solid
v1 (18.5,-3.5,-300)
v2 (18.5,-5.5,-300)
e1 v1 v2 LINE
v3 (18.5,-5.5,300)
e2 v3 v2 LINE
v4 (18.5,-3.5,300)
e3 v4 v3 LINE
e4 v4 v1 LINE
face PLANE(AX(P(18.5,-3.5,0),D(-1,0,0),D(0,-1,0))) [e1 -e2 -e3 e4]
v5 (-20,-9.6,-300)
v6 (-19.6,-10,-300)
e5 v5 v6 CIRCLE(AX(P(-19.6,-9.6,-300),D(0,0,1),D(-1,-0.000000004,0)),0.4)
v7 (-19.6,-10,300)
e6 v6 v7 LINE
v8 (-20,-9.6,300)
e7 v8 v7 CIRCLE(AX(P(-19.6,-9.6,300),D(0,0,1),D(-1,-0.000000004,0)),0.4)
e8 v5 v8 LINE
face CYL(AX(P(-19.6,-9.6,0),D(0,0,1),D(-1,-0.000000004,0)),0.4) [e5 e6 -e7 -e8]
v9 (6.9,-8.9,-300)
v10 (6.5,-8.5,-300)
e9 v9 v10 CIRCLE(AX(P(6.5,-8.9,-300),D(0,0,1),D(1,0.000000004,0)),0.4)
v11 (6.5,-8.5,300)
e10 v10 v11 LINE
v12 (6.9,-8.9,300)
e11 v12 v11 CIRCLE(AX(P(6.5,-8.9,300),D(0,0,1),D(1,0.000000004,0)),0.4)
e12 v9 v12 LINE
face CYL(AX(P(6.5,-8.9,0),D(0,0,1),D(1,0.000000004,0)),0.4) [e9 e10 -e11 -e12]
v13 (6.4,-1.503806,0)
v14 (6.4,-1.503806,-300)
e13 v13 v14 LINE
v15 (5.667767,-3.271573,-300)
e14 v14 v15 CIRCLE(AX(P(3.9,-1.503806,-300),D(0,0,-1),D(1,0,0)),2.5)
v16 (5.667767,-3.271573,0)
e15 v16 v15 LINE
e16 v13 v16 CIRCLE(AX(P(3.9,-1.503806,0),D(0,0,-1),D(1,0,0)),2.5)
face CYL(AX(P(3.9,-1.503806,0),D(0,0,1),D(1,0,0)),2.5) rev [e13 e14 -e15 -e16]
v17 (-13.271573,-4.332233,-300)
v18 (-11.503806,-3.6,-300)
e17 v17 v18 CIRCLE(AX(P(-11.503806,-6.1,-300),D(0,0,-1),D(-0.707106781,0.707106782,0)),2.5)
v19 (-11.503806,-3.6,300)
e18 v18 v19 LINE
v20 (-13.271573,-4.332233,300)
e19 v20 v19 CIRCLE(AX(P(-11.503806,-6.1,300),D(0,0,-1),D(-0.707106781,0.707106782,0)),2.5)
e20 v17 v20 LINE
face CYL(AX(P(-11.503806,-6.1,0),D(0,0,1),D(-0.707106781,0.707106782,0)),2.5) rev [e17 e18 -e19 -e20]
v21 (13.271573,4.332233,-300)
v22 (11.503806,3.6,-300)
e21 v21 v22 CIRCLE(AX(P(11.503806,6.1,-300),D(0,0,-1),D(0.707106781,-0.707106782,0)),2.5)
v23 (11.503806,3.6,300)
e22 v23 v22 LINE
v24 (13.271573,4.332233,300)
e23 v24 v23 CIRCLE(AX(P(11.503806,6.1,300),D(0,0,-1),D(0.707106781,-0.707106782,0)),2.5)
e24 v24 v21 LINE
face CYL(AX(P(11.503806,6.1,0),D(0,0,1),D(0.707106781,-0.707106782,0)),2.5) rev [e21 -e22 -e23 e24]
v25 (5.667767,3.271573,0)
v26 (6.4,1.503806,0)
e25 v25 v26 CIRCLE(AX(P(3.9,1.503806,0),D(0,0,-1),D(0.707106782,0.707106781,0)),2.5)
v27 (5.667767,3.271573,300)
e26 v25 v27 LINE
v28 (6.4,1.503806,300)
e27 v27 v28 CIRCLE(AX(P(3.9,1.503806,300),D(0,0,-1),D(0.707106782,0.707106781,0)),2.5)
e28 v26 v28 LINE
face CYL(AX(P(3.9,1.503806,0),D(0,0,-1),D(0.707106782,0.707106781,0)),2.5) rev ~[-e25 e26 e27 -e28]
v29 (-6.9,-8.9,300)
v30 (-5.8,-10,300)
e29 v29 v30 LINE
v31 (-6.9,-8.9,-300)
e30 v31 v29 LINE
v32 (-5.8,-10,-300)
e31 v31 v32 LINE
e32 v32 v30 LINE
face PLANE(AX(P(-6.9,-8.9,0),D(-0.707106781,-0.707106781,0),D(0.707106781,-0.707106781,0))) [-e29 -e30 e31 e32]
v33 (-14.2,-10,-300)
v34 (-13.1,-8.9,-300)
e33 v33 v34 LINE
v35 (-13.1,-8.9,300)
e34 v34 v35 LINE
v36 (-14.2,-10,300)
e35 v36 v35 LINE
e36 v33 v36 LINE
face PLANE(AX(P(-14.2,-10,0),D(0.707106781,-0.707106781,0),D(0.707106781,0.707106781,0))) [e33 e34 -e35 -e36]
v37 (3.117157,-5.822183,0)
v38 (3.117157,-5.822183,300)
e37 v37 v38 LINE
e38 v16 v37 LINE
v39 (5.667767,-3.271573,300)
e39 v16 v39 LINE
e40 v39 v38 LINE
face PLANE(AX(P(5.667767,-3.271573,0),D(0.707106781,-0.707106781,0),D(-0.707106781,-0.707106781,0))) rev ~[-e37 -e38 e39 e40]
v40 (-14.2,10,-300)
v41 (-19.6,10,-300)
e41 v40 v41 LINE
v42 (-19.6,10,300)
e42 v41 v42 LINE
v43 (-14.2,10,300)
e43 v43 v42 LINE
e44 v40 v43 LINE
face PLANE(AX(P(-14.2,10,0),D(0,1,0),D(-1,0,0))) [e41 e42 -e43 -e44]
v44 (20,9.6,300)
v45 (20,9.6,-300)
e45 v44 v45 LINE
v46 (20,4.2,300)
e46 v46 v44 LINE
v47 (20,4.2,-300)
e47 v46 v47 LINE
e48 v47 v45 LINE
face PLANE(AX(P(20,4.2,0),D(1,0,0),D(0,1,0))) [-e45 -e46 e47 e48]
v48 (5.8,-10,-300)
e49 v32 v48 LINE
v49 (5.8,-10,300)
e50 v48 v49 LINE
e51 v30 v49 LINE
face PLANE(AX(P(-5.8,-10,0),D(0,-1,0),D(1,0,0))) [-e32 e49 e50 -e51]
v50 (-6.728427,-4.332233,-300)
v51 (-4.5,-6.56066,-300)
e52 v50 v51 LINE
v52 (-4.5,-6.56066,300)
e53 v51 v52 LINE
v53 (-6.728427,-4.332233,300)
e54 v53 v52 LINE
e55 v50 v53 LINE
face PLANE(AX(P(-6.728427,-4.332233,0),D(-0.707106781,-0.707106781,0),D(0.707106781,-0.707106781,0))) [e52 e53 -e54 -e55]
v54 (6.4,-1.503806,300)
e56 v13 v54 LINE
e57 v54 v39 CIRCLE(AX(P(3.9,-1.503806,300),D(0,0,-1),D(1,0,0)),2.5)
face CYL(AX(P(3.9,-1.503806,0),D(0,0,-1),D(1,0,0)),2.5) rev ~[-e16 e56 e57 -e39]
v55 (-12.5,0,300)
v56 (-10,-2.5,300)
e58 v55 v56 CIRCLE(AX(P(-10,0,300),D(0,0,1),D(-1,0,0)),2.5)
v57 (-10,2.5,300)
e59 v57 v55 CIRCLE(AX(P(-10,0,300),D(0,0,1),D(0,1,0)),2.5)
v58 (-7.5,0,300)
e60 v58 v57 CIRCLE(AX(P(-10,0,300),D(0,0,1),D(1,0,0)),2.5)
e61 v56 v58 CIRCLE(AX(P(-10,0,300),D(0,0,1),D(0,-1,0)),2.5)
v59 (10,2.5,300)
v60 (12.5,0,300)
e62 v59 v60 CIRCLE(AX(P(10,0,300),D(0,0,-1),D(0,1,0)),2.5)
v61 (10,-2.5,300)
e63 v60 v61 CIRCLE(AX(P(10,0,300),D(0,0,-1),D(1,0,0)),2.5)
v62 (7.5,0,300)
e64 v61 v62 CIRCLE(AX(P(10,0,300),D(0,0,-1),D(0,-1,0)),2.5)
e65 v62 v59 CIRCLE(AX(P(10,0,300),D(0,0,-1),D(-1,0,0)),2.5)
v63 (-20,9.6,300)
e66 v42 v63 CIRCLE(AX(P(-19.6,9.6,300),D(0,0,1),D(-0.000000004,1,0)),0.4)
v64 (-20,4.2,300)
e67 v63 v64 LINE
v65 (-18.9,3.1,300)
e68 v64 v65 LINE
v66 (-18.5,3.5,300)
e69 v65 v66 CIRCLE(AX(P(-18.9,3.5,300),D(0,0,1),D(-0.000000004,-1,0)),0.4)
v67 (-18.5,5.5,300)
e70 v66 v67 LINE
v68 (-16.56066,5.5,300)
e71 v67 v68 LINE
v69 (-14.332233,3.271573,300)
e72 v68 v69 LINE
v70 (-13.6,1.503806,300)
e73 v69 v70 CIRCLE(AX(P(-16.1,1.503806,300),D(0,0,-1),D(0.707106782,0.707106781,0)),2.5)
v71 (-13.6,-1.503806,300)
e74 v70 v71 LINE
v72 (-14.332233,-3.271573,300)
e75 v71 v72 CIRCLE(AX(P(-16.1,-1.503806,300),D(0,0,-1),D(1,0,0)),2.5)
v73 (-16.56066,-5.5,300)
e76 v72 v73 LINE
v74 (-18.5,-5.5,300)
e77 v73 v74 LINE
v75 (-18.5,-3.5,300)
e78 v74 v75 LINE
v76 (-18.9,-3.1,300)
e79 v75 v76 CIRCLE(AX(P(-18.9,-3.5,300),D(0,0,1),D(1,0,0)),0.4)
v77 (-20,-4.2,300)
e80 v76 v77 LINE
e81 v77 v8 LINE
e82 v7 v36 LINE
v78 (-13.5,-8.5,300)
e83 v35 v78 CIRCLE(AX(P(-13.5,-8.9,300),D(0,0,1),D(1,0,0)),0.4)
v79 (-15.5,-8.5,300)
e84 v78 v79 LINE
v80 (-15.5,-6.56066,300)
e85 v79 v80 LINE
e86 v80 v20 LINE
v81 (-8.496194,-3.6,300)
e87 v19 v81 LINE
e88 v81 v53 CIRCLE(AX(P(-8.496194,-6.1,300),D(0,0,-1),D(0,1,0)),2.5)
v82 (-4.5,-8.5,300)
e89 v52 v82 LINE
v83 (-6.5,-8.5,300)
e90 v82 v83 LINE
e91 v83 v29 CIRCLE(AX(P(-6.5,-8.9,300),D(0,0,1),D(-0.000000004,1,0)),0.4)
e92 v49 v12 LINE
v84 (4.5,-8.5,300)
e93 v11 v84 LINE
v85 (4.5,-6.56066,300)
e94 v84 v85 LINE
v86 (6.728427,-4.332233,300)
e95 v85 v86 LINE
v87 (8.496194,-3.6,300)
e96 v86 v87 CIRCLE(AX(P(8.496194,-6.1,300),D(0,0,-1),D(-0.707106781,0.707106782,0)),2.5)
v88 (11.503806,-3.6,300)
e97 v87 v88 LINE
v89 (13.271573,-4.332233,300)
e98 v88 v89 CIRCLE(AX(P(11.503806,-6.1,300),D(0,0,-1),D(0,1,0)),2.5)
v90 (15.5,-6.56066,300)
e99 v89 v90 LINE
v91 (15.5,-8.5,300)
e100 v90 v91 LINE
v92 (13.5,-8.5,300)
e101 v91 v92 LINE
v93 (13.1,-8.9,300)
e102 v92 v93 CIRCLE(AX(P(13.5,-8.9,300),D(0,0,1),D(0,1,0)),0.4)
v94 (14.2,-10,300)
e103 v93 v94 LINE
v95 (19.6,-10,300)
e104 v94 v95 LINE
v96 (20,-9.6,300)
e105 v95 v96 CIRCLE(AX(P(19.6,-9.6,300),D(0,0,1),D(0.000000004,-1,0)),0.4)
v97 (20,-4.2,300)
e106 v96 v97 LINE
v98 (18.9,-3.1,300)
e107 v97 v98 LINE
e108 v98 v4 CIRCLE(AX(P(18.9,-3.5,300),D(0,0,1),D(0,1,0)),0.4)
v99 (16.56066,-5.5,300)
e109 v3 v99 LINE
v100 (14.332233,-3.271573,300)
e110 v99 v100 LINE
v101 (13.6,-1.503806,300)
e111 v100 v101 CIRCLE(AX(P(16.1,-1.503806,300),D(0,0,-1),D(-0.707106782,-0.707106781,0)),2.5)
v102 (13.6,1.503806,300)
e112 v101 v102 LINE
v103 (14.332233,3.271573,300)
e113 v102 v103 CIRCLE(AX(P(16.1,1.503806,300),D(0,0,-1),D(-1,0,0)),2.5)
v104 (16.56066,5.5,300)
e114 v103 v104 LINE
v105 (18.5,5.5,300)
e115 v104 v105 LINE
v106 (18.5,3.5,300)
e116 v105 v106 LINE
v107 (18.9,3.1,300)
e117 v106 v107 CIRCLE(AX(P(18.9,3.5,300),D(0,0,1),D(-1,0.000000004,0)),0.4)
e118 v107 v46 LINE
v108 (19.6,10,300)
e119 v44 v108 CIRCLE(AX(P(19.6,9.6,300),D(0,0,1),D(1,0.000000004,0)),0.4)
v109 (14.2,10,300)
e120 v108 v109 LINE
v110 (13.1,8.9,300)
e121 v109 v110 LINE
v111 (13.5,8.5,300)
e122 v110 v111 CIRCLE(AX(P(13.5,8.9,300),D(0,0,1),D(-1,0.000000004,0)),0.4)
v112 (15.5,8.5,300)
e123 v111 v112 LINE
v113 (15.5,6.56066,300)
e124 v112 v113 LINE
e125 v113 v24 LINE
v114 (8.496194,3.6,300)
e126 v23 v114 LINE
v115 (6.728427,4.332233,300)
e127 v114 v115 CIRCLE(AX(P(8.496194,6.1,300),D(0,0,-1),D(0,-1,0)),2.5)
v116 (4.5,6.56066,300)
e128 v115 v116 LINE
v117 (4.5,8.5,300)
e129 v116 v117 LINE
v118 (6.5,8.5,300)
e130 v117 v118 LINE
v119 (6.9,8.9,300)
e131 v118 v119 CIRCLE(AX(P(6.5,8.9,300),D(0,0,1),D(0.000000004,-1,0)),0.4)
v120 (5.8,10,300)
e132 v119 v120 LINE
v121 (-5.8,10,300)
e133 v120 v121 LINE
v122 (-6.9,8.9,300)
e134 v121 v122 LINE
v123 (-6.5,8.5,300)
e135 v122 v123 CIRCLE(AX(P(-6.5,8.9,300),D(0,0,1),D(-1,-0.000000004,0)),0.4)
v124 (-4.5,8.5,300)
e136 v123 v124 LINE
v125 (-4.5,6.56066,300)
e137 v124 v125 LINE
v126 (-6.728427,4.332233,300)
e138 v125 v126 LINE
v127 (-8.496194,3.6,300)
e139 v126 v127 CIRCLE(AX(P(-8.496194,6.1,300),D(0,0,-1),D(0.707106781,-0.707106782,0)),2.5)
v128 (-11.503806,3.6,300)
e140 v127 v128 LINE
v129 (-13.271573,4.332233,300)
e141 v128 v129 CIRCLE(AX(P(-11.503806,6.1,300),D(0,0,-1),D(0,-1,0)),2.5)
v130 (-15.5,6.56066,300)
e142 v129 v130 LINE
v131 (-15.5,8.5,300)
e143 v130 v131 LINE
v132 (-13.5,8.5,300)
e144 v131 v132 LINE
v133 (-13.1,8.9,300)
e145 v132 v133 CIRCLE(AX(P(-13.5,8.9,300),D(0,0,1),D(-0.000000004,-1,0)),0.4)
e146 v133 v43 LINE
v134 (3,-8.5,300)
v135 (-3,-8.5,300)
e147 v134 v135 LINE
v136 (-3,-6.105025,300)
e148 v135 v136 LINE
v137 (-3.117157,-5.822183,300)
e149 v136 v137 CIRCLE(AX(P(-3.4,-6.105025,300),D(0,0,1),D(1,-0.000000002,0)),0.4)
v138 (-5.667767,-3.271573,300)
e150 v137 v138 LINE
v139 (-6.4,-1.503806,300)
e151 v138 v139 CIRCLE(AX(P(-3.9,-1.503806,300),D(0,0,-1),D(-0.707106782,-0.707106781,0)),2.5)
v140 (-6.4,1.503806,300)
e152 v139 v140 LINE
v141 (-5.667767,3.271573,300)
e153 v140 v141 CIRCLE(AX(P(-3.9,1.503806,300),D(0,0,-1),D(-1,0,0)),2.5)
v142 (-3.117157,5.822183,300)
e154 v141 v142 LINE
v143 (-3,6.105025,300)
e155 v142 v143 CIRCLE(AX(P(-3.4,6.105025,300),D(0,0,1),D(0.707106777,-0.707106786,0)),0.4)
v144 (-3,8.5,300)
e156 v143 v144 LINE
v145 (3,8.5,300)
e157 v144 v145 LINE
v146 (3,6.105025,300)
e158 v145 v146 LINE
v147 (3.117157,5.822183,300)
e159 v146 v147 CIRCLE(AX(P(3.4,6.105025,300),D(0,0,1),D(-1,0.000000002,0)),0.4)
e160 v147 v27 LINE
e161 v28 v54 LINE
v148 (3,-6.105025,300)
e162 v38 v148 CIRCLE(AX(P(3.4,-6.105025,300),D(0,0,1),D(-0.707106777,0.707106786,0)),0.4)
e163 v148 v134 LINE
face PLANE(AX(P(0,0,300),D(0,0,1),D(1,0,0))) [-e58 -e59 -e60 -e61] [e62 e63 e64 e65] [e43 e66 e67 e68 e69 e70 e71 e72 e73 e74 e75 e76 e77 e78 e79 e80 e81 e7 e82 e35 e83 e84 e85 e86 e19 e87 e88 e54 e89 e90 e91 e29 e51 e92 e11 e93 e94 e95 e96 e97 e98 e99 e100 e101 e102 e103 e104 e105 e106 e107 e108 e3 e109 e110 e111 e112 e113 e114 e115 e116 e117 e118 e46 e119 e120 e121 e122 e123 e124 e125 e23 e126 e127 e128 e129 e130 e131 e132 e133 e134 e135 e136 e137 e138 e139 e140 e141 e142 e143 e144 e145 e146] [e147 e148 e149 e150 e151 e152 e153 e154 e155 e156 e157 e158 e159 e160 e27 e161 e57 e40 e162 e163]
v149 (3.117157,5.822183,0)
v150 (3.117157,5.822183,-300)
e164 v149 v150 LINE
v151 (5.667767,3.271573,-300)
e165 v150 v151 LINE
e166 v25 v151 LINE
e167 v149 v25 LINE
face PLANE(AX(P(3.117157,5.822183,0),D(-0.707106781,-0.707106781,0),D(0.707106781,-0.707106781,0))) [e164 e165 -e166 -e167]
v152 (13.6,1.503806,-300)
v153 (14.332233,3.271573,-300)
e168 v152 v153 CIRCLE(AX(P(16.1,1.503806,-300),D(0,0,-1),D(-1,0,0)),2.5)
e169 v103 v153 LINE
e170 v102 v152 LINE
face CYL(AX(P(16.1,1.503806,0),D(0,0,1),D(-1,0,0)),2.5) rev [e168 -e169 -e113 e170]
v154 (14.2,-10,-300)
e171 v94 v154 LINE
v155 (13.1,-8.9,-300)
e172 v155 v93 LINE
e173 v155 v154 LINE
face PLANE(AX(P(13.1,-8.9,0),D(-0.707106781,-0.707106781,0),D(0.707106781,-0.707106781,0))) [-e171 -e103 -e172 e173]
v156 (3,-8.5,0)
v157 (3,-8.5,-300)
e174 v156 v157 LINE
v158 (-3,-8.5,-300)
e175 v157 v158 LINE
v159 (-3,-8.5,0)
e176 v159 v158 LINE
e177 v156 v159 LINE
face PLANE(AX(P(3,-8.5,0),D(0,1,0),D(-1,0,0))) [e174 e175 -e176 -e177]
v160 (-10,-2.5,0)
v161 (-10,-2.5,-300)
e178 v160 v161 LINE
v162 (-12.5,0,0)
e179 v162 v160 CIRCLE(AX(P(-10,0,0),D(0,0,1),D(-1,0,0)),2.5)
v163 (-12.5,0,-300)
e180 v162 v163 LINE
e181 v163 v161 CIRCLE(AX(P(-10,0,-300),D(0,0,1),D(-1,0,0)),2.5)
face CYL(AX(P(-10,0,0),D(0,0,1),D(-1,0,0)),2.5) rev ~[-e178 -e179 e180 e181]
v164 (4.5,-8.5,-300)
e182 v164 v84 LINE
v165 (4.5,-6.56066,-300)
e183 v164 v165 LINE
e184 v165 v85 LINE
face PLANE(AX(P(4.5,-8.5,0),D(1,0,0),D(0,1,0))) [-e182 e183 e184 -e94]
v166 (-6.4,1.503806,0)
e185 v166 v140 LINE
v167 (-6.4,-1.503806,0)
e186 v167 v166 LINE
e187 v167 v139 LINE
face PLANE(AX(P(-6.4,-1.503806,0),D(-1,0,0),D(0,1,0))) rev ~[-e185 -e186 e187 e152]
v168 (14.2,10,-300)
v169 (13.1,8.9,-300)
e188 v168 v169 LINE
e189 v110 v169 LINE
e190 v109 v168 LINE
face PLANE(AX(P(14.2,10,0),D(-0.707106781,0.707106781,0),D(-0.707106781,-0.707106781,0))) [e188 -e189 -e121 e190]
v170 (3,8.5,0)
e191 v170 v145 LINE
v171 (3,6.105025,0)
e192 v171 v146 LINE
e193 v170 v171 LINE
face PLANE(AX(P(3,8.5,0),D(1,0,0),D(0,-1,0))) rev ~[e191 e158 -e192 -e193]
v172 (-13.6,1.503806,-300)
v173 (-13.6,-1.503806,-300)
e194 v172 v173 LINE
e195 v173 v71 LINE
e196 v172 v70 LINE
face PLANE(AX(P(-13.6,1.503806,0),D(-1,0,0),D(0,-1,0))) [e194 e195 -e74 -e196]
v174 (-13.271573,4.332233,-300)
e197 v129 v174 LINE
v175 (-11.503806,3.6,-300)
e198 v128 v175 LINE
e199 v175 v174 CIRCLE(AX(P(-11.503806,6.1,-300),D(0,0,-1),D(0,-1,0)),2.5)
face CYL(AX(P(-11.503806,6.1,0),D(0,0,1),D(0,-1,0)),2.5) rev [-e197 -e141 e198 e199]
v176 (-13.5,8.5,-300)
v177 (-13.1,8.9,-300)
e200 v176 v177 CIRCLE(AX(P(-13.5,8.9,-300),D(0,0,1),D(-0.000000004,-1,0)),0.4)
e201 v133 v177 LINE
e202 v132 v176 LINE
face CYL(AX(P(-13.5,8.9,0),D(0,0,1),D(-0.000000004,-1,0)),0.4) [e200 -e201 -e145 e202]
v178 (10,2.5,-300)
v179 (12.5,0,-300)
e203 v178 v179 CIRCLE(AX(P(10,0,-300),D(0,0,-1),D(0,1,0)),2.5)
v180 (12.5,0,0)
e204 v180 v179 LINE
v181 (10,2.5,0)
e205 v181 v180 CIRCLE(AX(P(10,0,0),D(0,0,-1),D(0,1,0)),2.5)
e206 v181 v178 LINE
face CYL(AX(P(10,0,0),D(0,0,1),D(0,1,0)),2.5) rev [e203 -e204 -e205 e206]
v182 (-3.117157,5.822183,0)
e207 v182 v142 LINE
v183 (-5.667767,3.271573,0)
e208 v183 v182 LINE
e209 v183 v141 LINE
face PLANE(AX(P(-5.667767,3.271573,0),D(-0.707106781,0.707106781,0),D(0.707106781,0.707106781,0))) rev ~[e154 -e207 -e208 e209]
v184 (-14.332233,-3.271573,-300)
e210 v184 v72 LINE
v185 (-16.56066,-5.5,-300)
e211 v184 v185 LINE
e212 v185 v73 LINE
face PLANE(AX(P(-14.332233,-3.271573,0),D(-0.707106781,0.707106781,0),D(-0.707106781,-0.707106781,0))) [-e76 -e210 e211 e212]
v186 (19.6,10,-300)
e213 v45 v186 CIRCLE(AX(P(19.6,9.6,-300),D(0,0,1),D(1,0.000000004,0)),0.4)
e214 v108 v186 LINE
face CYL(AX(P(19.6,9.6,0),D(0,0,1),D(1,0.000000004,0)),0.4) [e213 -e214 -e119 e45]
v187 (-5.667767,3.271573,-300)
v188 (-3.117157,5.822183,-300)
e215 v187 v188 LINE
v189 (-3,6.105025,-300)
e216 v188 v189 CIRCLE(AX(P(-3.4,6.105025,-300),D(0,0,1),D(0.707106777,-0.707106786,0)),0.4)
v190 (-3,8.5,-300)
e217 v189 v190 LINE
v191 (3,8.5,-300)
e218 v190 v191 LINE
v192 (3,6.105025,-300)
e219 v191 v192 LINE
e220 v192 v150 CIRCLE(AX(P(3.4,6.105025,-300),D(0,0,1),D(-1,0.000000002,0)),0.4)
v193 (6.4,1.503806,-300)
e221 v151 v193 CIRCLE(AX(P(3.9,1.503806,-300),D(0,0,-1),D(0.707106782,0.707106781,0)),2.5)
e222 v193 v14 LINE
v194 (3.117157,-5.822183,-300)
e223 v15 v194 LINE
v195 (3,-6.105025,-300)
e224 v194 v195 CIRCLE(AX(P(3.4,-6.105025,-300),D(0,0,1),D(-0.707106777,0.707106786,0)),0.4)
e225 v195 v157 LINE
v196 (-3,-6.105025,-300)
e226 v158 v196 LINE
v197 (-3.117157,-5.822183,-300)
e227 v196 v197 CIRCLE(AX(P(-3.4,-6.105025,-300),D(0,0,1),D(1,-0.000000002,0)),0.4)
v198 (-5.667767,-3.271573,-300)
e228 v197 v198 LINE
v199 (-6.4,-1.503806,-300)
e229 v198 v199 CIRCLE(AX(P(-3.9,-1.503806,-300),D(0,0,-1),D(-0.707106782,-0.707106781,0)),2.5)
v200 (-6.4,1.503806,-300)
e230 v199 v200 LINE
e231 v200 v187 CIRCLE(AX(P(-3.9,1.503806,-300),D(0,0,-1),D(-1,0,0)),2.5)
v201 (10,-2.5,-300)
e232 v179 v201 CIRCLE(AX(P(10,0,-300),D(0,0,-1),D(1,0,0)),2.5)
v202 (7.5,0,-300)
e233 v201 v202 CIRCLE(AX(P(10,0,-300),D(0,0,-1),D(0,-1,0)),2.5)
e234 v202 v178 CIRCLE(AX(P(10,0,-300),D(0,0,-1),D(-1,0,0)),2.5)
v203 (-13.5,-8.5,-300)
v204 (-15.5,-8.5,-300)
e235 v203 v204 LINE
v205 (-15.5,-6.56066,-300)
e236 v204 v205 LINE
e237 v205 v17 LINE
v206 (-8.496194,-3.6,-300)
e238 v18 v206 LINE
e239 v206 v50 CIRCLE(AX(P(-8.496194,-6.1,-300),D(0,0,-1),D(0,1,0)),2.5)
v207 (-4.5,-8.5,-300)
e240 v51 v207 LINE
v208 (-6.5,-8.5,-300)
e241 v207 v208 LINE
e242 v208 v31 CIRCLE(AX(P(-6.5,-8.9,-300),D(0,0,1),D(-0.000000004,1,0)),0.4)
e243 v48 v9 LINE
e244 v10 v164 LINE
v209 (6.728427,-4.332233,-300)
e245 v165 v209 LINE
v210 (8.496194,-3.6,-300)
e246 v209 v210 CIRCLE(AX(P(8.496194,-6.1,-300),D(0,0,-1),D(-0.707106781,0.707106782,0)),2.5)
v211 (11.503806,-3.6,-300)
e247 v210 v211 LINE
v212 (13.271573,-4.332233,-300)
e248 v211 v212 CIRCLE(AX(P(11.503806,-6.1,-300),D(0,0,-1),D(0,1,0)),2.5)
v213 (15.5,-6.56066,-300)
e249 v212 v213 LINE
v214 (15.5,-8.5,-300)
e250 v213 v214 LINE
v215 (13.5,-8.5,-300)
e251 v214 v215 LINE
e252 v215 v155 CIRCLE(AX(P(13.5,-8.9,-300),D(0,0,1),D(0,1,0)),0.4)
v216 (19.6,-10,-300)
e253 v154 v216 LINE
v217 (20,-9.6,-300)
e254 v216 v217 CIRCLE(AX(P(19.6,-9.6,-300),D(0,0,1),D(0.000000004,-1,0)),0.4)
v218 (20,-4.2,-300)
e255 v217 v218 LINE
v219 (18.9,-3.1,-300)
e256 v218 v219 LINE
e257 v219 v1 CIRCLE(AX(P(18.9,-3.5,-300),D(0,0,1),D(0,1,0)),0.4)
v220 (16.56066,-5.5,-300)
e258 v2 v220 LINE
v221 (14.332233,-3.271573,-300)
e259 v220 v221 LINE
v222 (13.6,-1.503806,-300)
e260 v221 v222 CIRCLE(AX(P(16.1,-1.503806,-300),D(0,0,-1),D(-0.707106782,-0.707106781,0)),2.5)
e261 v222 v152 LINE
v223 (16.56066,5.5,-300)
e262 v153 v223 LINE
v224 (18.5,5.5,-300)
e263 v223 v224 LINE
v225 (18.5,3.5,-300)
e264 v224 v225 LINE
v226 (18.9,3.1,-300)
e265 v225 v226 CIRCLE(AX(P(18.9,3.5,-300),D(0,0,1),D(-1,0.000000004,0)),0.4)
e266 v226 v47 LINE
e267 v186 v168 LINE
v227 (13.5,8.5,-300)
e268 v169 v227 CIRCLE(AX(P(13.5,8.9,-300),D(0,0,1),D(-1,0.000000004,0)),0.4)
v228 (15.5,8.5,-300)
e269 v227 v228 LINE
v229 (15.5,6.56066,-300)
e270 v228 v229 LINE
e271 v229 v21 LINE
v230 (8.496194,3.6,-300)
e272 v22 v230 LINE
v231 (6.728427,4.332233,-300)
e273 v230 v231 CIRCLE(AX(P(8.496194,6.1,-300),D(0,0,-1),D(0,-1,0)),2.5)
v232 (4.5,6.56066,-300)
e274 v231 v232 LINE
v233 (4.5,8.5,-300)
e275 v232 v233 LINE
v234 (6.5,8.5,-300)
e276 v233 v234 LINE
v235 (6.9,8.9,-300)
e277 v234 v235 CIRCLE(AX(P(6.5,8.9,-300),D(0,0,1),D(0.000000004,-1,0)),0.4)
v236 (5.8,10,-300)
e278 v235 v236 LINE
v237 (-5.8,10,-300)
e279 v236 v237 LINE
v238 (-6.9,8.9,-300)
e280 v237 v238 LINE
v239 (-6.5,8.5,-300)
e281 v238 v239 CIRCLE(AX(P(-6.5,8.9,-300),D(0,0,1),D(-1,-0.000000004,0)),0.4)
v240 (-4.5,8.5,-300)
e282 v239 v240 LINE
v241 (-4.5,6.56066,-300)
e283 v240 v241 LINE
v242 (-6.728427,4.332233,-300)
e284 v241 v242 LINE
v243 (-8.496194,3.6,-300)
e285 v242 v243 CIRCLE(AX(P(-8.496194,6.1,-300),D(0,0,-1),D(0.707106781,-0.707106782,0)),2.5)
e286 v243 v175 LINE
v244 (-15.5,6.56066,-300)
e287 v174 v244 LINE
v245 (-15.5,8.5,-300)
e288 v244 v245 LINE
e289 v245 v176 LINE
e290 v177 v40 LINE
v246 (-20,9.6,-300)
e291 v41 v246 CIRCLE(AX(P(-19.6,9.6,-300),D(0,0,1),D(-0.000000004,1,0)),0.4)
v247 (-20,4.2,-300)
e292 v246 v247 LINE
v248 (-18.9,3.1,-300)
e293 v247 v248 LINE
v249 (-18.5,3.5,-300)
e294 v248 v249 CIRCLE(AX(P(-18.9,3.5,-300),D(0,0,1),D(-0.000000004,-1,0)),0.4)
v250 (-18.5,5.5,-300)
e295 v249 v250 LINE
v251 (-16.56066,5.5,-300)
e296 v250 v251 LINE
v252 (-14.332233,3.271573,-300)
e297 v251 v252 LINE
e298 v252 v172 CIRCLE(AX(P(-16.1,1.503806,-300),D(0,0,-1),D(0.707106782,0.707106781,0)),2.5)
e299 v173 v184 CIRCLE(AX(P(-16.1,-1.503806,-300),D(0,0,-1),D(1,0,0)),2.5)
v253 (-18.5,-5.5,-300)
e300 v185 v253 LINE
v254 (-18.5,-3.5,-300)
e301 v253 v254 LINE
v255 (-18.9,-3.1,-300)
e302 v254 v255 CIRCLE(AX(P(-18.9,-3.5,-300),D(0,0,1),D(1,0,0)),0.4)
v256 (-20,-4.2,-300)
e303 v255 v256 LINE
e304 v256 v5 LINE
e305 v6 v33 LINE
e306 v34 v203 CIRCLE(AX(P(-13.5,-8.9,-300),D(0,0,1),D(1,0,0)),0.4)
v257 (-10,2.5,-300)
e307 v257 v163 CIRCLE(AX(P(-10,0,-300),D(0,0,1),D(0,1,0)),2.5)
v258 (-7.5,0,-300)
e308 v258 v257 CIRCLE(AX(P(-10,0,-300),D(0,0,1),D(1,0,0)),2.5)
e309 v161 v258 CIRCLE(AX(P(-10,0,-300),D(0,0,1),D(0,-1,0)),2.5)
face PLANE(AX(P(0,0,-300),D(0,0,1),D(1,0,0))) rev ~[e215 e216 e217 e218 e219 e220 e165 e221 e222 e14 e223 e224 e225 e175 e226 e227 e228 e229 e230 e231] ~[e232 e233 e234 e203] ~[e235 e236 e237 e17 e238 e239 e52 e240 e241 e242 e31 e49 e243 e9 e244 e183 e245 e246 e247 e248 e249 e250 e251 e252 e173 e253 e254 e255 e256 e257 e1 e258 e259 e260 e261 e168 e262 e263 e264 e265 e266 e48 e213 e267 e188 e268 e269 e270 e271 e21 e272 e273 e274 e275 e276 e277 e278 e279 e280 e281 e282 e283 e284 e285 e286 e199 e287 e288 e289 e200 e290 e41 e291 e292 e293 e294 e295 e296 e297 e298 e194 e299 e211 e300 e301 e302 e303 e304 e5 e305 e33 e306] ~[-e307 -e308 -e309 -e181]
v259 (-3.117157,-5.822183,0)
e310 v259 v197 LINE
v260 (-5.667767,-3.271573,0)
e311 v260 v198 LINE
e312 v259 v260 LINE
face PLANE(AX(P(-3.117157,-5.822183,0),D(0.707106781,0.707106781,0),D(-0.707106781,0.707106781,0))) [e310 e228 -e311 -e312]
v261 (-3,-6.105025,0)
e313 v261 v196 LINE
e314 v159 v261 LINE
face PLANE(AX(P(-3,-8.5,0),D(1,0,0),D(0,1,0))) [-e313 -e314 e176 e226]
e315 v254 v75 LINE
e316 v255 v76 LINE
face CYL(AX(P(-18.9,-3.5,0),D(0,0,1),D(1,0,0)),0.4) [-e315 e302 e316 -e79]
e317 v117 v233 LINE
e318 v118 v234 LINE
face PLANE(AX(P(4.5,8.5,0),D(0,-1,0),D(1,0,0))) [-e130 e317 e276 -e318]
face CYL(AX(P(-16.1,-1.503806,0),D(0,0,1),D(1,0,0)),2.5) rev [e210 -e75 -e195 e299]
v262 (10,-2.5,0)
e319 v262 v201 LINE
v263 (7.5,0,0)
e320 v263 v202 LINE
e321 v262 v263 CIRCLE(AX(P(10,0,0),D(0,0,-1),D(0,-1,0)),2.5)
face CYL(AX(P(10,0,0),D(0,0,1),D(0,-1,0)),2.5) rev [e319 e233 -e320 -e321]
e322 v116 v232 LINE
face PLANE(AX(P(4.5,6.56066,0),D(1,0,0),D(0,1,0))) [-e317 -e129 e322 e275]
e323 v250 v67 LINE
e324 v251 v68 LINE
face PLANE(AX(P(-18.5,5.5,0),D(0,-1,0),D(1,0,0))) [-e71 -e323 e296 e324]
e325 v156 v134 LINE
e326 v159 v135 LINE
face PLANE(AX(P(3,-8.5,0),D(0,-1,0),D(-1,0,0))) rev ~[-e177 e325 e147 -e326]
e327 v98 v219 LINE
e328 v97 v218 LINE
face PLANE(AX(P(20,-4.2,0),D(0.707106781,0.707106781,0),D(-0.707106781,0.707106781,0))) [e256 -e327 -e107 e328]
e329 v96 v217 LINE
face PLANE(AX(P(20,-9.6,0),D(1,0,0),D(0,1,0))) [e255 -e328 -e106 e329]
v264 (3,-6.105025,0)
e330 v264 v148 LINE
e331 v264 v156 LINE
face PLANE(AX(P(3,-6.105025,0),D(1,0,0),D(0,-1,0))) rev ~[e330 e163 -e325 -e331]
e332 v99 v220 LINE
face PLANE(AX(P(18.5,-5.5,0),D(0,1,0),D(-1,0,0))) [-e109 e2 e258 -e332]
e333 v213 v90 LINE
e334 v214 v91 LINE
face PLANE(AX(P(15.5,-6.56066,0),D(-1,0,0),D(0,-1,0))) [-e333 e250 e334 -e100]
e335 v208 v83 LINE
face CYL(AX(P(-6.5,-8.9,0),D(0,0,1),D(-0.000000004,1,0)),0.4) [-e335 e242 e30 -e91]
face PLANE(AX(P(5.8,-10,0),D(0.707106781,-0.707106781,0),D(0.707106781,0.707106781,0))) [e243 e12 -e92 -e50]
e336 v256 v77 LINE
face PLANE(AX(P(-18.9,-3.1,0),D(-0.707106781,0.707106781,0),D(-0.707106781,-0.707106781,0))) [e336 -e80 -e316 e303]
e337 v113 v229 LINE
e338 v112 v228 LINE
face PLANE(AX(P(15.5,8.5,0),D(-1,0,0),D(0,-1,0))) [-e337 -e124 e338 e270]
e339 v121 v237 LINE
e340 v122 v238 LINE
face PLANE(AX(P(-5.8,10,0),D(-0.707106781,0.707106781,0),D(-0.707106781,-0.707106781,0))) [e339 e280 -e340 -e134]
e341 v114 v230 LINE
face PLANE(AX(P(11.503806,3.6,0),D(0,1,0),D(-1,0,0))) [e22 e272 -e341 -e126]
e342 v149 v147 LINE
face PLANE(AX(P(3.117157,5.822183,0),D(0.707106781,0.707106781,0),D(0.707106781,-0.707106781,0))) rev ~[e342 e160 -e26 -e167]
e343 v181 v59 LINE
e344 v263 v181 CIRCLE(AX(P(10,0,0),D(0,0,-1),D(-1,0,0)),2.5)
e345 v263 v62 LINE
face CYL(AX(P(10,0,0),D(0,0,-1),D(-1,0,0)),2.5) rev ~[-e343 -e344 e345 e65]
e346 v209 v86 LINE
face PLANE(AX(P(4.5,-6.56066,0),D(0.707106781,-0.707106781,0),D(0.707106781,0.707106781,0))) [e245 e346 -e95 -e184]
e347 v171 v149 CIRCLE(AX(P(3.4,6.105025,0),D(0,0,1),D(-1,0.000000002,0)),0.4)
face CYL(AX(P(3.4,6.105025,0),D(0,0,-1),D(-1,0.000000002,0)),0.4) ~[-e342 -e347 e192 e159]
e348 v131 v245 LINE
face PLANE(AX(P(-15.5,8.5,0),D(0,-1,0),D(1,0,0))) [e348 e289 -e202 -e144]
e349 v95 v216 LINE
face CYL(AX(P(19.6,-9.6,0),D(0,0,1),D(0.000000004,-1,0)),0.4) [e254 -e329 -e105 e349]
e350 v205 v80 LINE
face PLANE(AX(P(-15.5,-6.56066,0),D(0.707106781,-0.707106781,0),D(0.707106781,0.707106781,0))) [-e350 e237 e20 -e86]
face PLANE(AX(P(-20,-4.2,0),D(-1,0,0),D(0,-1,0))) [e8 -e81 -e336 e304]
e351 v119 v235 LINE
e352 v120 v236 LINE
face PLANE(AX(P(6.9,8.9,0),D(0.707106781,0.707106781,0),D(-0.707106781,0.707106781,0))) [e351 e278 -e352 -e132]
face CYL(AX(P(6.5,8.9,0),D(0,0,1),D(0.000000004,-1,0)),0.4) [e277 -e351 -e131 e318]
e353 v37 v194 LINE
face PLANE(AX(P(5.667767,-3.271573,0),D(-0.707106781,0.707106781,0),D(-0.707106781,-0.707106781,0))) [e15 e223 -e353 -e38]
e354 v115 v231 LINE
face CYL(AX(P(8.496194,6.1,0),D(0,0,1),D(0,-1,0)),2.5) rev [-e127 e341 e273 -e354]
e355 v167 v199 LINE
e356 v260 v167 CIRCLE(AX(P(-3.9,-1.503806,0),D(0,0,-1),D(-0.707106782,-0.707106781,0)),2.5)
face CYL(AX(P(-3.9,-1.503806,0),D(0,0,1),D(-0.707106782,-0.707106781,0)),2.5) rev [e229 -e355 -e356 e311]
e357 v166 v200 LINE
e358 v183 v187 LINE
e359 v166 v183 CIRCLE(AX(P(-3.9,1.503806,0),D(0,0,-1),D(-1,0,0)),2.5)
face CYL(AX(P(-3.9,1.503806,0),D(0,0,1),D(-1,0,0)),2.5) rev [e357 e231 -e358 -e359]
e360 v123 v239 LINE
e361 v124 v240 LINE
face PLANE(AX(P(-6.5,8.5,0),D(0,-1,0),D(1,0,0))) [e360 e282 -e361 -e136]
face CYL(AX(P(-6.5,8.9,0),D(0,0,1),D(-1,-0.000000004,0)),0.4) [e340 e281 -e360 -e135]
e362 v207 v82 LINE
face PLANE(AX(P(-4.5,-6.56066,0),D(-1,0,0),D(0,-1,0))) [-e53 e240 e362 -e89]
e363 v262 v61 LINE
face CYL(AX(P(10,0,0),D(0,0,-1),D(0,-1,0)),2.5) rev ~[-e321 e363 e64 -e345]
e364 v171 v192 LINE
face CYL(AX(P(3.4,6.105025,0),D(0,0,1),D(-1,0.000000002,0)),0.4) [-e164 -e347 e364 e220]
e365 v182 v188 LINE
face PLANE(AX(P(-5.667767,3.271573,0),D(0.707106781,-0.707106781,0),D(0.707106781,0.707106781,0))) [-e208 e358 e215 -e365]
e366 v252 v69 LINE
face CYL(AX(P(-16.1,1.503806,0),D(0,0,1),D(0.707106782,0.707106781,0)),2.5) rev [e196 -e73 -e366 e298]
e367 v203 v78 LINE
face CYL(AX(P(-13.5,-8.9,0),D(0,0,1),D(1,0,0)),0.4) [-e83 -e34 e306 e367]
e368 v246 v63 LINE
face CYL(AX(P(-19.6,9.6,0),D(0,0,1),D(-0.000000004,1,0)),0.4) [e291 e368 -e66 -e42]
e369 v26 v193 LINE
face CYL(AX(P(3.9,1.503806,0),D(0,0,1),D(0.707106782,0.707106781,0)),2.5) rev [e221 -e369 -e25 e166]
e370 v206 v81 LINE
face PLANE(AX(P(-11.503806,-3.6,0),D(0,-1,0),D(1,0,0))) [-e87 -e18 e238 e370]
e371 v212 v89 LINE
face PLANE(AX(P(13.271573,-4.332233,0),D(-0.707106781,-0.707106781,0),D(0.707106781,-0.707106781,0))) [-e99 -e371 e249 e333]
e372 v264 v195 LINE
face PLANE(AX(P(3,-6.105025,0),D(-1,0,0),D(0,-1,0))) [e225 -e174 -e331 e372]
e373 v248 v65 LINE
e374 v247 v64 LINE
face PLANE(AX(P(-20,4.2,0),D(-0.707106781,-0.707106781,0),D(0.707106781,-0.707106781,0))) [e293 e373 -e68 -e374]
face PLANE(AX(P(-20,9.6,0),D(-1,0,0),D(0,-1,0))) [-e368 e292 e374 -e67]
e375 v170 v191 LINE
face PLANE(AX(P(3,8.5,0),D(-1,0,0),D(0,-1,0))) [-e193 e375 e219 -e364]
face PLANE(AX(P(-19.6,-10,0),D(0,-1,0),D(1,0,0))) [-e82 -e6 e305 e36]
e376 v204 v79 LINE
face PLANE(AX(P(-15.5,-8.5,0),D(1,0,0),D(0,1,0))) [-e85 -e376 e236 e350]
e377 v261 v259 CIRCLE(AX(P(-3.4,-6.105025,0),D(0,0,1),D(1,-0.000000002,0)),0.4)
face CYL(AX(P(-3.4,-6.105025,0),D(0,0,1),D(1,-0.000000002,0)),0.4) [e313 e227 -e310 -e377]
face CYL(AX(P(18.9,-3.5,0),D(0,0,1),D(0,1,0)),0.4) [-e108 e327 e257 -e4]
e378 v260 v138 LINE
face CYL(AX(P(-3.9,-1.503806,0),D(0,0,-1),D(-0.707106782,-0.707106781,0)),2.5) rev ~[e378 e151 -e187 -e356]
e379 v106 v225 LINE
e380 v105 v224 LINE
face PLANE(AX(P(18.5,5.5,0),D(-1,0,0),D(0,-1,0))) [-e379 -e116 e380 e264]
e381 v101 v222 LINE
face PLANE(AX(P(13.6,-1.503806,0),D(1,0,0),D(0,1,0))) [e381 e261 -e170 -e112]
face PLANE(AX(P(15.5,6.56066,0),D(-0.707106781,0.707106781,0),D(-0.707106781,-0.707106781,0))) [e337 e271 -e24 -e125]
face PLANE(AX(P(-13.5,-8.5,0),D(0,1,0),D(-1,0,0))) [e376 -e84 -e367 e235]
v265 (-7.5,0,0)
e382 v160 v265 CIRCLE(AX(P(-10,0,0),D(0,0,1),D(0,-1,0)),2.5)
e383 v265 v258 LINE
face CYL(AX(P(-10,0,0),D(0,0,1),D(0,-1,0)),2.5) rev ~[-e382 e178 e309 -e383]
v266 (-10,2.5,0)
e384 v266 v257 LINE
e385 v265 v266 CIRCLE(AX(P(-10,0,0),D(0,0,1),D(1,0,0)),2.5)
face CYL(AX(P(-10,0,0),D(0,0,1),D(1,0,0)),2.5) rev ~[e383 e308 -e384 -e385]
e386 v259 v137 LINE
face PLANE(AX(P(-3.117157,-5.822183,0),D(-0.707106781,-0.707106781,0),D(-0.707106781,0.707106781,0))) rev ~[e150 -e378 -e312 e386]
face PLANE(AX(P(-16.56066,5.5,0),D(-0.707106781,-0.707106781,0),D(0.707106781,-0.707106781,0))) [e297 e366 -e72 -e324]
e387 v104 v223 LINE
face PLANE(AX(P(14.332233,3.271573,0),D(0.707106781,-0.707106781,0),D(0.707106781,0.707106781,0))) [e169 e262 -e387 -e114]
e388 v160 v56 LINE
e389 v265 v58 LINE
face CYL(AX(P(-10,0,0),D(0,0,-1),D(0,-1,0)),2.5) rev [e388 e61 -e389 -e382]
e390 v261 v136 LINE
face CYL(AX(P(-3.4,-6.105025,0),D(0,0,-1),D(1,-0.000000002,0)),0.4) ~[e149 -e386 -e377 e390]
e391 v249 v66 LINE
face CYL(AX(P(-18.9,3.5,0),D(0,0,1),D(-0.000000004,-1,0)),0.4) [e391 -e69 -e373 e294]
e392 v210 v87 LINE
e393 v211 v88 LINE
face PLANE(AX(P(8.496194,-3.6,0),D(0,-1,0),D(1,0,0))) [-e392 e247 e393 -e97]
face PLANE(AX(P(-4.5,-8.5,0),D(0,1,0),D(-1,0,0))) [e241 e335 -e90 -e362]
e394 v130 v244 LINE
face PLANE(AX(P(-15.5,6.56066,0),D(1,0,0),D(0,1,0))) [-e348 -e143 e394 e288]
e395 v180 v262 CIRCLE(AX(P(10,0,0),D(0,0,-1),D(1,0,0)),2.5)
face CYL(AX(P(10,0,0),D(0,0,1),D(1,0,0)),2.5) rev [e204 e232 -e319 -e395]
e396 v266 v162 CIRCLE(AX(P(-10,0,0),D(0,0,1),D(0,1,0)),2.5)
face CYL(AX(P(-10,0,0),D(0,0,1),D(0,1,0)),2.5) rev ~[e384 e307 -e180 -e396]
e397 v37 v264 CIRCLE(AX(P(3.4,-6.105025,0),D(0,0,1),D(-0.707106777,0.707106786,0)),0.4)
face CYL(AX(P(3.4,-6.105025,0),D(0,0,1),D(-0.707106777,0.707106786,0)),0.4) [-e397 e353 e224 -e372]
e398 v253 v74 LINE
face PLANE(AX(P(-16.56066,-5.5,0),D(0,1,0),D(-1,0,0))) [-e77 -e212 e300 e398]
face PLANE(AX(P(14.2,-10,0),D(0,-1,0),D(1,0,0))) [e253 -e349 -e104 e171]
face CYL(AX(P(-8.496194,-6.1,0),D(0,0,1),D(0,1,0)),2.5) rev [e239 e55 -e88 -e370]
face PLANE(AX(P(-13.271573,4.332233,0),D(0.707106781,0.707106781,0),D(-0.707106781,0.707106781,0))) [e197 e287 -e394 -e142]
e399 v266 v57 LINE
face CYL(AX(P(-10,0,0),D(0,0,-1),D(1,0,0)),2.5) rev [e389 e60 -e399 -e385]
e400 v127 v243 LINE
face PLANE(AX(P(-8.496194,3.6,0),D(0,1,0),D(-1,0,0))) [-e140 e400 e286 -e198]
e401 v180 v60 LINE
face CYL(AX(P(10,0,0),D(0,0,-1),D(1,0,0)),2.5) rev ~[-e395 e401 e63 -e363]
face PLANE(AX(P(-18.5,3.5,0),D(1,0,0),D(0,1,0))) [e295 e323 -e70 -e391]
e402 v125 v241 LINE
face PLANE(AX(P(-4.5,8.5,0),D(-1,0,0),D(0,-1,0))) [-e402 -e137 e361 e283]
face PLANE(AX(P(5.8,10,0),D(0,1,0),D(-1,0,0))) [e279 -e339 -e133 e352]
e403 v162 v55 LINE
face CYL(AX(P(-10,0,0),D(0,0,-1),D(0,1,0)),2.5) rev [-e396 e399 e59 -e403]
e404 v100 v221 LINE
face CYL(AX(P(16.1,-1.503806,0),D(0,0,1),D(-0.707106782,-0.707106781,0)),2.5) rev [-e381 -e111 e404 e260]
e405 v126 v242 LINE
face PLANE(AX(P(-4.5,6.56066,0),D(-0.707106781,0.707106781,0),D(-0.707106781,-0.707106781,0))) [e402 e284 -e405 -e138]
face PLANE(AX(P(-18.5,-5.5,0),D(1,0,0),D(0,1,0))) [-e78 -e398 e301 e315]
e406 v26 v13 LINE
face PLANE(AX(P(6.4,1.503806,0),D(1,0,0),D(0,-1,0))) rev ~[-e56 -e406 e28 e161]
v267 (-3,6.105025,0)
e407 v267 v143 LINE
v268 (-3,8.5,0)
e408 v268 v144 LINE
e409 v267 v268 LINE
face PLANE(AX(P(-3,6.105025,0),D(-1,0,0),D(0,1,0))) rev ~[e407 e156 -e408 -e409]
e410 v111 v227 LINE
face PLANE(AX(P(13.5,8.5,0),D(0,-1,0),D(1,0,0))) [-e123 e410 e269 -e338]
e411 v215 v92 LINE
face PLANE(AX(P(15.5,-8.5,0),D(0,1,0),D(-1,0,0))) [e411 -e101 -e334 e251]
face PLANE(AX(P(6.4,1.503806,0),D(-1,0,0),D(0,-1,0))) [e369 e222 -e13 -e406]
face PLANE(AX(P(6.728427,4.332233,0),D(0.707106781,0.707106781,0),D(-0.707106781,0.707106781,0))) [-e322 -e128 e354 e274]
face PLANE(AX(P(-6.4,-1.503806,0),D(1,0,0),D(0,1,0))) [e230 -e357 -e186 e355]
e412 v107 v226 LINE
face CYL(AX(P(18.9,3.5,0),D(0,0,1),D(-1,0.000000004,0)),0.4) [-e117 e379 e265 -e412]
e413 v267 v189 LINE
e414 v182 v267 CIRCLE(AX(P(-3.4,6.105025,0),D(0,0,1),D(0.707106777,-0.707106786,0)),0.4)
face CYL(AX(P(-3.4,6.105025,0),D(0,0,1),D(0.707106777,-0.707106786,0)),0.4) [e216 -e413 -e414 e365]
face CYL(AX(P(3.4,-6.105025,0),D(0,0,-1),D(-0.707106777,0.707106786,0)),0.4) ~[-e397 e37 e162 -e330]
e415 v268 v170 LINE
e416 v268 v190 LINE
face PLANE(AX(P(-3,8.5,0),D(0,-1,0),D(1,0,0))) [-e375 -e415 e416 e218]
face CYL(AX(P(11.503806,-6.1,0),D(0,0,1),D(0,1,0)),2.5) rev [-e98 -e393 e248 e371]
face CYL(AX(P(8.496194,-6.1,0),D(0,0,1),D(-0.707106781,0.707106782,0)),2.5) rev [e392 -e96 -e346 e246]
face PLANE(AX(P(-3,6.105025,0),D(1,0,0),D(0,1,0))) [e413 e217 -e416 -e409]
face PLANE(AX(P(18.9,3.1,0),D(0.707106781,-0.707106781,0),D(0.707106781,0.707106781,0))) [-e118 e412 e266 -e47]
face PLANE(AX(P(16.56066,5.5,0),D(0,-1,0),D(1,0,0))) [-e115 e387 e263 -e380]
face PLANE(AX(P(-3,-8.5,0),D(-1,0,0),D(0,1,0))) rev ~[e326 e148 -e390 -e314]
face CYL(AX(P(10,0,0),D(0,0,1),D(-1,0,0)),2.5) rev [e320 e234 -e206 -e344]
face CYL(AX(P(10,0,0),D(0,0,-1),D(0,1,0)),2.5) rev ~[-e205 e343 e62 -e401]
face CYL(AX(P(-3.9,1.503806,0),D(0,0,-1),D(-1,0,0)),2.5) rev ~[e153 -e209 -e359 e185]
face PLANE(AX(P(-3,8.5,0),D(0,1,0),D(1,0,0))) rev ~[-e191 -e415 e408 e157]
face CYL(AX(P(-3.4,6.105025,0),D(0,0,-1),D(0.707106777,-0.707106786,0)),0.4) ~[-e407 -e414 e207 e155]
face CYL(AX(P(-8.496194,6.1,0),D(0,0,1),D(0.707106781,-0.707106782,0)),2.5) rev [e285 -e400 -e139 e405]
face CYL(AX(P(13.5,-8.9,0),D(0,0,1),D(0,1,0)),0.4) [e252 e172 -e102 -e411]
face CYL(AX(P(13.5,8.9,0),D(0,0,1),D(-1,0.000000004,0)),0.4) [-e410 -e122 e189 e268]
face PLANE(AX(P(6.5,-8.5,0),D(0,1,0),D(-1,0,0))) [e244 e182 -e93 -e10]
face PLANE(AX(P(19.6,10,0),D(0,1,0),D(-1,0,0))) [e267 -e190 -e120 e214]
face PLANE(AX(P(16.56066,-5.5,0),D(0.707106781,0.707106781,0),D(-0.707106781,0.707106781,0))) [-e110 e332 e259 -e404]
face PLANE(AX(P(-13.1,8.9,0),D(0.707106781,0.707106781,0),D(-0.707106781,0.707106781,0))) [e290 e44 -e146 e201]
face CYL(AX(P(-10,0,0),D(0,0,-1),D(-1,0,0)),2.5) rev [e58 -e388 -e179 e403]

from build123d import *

# Parameters (mm, degrees)
RESSALTO_EXTRUS_O1_DEPTH = 300


with BuildPart() as part:
    # Esboço1 → Ressalto-extrusão1 (new body, symmetric)
    with BuildSketch(Plane.XY):
        with BuildLine():
            Line((-13.1, 8.9), (-14.2, 10))
            Line((-14.2, 10), (-19.6, 10))
            ThreePointArc((-19.6, 10), (-19.882842712, 9.882842712), (-20, 9.6))
            Line((-20, 9.6), (-20, 4.2))
            Line((-20, 4.2), (-18.9, 3.1))
            ThreePointArc((-18.9, 3.1), (-18.617157287, 3.217157287), (-18.5, 3.5))
            Line((-18.5, 3.5), (-18.5, 5.5))
            Line((-18.5, 5.5), (-16.560660172, 5.5))
            Line((-16.560660172, 5.5), (-14.332233047, 3.271572875))
            ThreePointArc((-14.332233047, 3.271572875), (-13.790301169, 2.460514503), (-13.6, 1.503805922))
            Line((-13.6, 1.503805922), (-13.6, 0))
            Line((-13.6, 0), (-13.6, -1.503805922))
            ThreePointArc((-13.6, -1.503805922), (-13.790301169, -2.460514503), (-14.332233047, -3.271572875))
            Line((-14.332233047, -3.271572875), (-16.560660172, -5.5))
            Line((-16.560660172, -5.5), (-18.5, -5.5))
            Line((-18.5, -5.5), (-18.5, -3.5))
            ThreePointArc((-18.5, -3.5), (-18.617157287, -3.217157288), (-18.9, -3.1))
            Line((-18.9, -3.1), (-20, -4.2))
            Line((-20, -4.2), (-20, -9.6))
            ThreePointArc((-20, -9.6), (-19.882842712, -9.882842712), (-19.6, -10))
            Line((-19.6, -10), (-14.2, -10))
            Line((-14.2, -10), (-13.1, -8.9))
            ThreePointArc((-13.1, -8.9), (-13.217157287, -8.617157288), (-13.5, -8.5))
            Line((-13.5, -8.5), (-15.5, -8.5))
            Line((-15.5, -8.5), (-15.5, -6.560660172))
            Line((-15.5, -6.560660172), (-13.271572875, -4.332233047))
            ThreePointArc((-13.271572875, -4.332233047), (-12.460514503, -3.790301169), (-11.503805922, -3.6))
            Line((-11.503805922, -3.6), (-10, -3.6))
            Line((-10, -3.6), (-8.496194078, -3.6))
            ThreePointArc((-8.496194078, -3.6), (-7.539485497, -3.790301169), (-6.728427125, -4.332233047))
            Line((-6.728427125, -4.332233047), (-4.5, -6.560660172))
            Line((-4.5, -6.560660172), (-4.5, -8.5))
            Line((-4.5, -8.5), (-6.5, -8.5))
            ThreePointArc((-6.5, -8.5), (-6.782842712, -8.617157288), (-6.9, -8.9))
            Line((-6.9, -8.9), (-5.8, -10))
            Line((-5.8, -10), (5.8, -10))
            Line((5.8, -10), (6.9, -8.9))
            ThreePointArc((6.9, -8.9), (6.782842712, -8.617157288), (6.5, -8.5))
            Line((6.5, -8.5), (4.5, -8.5))
            Line((4.5, -8.5), (4.5, -6.560660172))
            Line((4.5, -6.560660172), (6.728427125, -4.332233047))
            ThreePointArc((6.728427125, -4.332233047), (7.539485497, -3.790301169), (8.496194078, -3.6))
            Line((8.496194078, -3.6), (10, -3.6))
            Line((10, -3.6), (11.503805922, -3.6))
            ThreePointArc((11.503805922, -3.6), (12.460514503, -3.790301169), (13.271572875, -4.332233047))
            Line((13.271572875, -4.332233047), (15.5, -6.560660172))
            Line((15.5, -6.560660172), (15.5, -8.5))
            Line((15.5, -8.5), (13.5, -8.5))
            ThreePointArc((13.5, -8.5), (13.217157287, -8.617157288), (13.1, -8.9))
            Line((13.1, -8.9), (14.2, -10))
            Line((14.2, -10), (19.6, -10))
            ThreePointArc((19.6, -10), (19.882842712, -9.882842712), (20, -9.6))
            Line((20, -9.6), (20, -4.2))
            Line((20, -4.2), (18.9, -3.1))
            ThreePointArc((18.9, -3.1), (18.617157287, -3.217157288), (18.5, -3.5))
            Line((18.5, -3.5), (18.5, -5.5))
            Line((18.5, -5.5), (16.560660172, -5.5))
            Line((16.560660172, -5.5), (14.332233047, -3.271572875))
            ThreePointArc((14.332233047, -3.271572875), (13.790301169, -2.460514503), (13.6, -1.503805922))
            Line((13.6, -1.503805922), (13.6, 0))
            Line((13.6, 0), (13.6, 1.503805922))
            ThreePointArc((13.6, 1.503805922), (13.790301169, 2.460514503), (14.332233047, 3.271572875))
            Line((14.332233047, 3.271572875), (16.560660172, 5.5))
            Line((16.560660172, 5.5), (18.5, 5.5))
            Line((18.5, 5.5), (18.5, 3.5))
            ThreePointArc((18.5, 3.5), (18.617157287, 3.217157287), (18.9, 3.1))
            Line((18.9, 3.1), (20, 4.2))
            Line((20, 4.2), (20, 9.6))
            ThreePointArc((20, 9.6), (19.882842712, 9.882842712), (19.6, 10))
            Line((19.6, 10), (14.2, 10))
            Line((14.2, 10), (13.1, 8.9))
            ThreePointArc((13.1, 8.9), (13.217157287, 8.617157287), (13.5, 8.5))
            Line((13.5, 8.5), (15.5, 8.5))
            Line((15.5, 8.5), (15.5, 6.560660172))
            Line((15.5, 6.560660172), (13.271572875, 4.332233047))
            ThreePointArc((13.271572875, 4.332233047), (12.460514503, 3.790301169), (11.503805922, 3.6))
            Line((11.503805922, 3.6), (10, 3.6))
            Line((10, 3.6), (8.496194078, 3.6))
            ThreePointArc((8.496194078, 3.6), (7.539485497, 3.790301169), (6.728427125, 4.332233047))
            Line((6.728427125, 4.332233047), (4.5, 6.560660172))
            Line((4.5, 6.560660172), (4.5, 8.5))
            Line((4.5, 8.5), (6.5, 8.5))
            ThreePointArc((6.5, 8.5), (6.782842712, 8.617157288), (6.9, 8.9))
            Line((6.9, 8.9), (5.8, 10))
            Line((5.8, 10), (-5.8, 10))
            Line((-5.8, 10), (-6.9, 8.9))
            ThreePointArc((-6.9, 8.9), (-6.782842712, 8.617157288), (-6.5, 8.5))
            Line((-6.5, 8.5), (-4.5, 8.5))
            Line((-4.5, 8.5), (-4.5, 6.560660172))
            Line((-4.5, 6.560660172), (-6.728427125, 4.332233047))
            ThreePointArc((-6.728427125, 4.332233047), (-7.539485497, 3.790301169), (-8.496194078, 3.6))
            Line((-8.496194078, 3.6), (-10, 3.6))
            Line((-10, 3.6), (-11.503805922, 3.6))
            ThreePointArc((-11.503805922, 3.6), (-12.460514503, 3.790301169), (-13.271572875, 4.332233047))
            Line((-13.271572875, 4.332233047), (-15.5, 6.560660172))
            Line((-15.5, 6.560660172), (-15.5, 8.5))
            Line((-15.5, 8.5), (-13.5, 8.5))
            ThreePointArc((-13.5, 8.5), (-13.217157287, 8.617157287), (-13.1, 8.9))
        make_face()
        with BuildLine():
            Line((-3, 8.5), (3, 8.5))
            Line((3, 8.5), (3, 6.105025253))
            ThreePointArc((3, 6.105025253), (3.030448187, 5.95195188), (3.117157288, 5.822182541))
            Line((3.117157288, 5.822182541), (5.667766953, 3.271572875))
            ThreePointArc((5.667766953, 3.271572875), (6.209698831, 2.460514503), (6.4, 1.503805922))
            Line((6.4, 1.503805922), (6.4, 0))
            Line((6.4, 0), (6.4, -1.503805922))
            ThreePointArc((6.4, -1.503805922), (6.209698831, -2.460514503), (5.667766953, -3.271572875))
            Line((5.667766953, -3.271572875), (3.117157288, -5.822182541))
            ThreePointArc((3.117157288, -5.822182541), (3.030448187, -5.95195188), (3, -6.105025253))
            Line((3, -6.105025253), (3, -8.5))
            Line((3, -8.5), (-3, -8.5))
            Line((-3, -8.5), (-3, -6.105025253))
            ThreePointArc((-3, -6.105025253), (-3.030448187, -5.95195188), (-3.117157288, -5.822182541))
            Line((-3.117157288, -5.822182541), (-5.667766953, -3.271572875))
            ThreePointArc((-5.667766953, -3.271572875), (-6.209698831, -2.460514503), (-6.4, -1.503805922))
            Line((-6.4, -1.503805922), (-6.4, 0))
            Line((-6.4, 0), (-6.4, 1.503805922))
            ThreePointArc((-6.4, 1.503805922), (-6.209698831, 2.460514503), (-5.667766953, 3.271572875))
            Line((-5.667766953, 3.271572875), (-3.117157288, 5.822182541))
            ThreePointArc((-3.117157288, 5.822182541), (-3.030448187, 5.95195188), (-3, 6.105025253))
            Line((-3, 6.105025253), (-3, 8.5))
        make_face(mode=Mode.SUBTRACT)
        with BuildLine():
            ThreePointArc((-10, 2.5), (-11.767766953, 1.767766953), (-12.5, 0))
            ThreePointArc((-12.5, 0), (-11.767766953, -1.767766953), (-10, -2.5))
            ThreePointArc((-10, -2.5), (-8.232233047, -1.767766953), (-7.5, 0))
            ThreePointArc((-7.5, 0), (-8.232233047, 1.767766953), (-10, 2.5))
        make_face(mode=Mode.SUBTRACT)
        with BuildLine():
            ThreePointArc((12.5, 0), (11.767766953, -1.767766953), (10, -2.5))
            ThreePointArc((10, -2.5), (8.232233047, -1.767766953), (7.5, 0))
            ThreePointArc((7.5, 0), (8.232233047, 1.767766953), (10, 2.5))
            ThreePointArc((10, 2.5), (11.767766953, 1.767766953), (12.5, 0))
        make_face(mode=Mode.SUBTRACT)
    extrude(amount=RESSALTO_EXTRUS_O1_DEPTH, both=True)


solid = part.part
